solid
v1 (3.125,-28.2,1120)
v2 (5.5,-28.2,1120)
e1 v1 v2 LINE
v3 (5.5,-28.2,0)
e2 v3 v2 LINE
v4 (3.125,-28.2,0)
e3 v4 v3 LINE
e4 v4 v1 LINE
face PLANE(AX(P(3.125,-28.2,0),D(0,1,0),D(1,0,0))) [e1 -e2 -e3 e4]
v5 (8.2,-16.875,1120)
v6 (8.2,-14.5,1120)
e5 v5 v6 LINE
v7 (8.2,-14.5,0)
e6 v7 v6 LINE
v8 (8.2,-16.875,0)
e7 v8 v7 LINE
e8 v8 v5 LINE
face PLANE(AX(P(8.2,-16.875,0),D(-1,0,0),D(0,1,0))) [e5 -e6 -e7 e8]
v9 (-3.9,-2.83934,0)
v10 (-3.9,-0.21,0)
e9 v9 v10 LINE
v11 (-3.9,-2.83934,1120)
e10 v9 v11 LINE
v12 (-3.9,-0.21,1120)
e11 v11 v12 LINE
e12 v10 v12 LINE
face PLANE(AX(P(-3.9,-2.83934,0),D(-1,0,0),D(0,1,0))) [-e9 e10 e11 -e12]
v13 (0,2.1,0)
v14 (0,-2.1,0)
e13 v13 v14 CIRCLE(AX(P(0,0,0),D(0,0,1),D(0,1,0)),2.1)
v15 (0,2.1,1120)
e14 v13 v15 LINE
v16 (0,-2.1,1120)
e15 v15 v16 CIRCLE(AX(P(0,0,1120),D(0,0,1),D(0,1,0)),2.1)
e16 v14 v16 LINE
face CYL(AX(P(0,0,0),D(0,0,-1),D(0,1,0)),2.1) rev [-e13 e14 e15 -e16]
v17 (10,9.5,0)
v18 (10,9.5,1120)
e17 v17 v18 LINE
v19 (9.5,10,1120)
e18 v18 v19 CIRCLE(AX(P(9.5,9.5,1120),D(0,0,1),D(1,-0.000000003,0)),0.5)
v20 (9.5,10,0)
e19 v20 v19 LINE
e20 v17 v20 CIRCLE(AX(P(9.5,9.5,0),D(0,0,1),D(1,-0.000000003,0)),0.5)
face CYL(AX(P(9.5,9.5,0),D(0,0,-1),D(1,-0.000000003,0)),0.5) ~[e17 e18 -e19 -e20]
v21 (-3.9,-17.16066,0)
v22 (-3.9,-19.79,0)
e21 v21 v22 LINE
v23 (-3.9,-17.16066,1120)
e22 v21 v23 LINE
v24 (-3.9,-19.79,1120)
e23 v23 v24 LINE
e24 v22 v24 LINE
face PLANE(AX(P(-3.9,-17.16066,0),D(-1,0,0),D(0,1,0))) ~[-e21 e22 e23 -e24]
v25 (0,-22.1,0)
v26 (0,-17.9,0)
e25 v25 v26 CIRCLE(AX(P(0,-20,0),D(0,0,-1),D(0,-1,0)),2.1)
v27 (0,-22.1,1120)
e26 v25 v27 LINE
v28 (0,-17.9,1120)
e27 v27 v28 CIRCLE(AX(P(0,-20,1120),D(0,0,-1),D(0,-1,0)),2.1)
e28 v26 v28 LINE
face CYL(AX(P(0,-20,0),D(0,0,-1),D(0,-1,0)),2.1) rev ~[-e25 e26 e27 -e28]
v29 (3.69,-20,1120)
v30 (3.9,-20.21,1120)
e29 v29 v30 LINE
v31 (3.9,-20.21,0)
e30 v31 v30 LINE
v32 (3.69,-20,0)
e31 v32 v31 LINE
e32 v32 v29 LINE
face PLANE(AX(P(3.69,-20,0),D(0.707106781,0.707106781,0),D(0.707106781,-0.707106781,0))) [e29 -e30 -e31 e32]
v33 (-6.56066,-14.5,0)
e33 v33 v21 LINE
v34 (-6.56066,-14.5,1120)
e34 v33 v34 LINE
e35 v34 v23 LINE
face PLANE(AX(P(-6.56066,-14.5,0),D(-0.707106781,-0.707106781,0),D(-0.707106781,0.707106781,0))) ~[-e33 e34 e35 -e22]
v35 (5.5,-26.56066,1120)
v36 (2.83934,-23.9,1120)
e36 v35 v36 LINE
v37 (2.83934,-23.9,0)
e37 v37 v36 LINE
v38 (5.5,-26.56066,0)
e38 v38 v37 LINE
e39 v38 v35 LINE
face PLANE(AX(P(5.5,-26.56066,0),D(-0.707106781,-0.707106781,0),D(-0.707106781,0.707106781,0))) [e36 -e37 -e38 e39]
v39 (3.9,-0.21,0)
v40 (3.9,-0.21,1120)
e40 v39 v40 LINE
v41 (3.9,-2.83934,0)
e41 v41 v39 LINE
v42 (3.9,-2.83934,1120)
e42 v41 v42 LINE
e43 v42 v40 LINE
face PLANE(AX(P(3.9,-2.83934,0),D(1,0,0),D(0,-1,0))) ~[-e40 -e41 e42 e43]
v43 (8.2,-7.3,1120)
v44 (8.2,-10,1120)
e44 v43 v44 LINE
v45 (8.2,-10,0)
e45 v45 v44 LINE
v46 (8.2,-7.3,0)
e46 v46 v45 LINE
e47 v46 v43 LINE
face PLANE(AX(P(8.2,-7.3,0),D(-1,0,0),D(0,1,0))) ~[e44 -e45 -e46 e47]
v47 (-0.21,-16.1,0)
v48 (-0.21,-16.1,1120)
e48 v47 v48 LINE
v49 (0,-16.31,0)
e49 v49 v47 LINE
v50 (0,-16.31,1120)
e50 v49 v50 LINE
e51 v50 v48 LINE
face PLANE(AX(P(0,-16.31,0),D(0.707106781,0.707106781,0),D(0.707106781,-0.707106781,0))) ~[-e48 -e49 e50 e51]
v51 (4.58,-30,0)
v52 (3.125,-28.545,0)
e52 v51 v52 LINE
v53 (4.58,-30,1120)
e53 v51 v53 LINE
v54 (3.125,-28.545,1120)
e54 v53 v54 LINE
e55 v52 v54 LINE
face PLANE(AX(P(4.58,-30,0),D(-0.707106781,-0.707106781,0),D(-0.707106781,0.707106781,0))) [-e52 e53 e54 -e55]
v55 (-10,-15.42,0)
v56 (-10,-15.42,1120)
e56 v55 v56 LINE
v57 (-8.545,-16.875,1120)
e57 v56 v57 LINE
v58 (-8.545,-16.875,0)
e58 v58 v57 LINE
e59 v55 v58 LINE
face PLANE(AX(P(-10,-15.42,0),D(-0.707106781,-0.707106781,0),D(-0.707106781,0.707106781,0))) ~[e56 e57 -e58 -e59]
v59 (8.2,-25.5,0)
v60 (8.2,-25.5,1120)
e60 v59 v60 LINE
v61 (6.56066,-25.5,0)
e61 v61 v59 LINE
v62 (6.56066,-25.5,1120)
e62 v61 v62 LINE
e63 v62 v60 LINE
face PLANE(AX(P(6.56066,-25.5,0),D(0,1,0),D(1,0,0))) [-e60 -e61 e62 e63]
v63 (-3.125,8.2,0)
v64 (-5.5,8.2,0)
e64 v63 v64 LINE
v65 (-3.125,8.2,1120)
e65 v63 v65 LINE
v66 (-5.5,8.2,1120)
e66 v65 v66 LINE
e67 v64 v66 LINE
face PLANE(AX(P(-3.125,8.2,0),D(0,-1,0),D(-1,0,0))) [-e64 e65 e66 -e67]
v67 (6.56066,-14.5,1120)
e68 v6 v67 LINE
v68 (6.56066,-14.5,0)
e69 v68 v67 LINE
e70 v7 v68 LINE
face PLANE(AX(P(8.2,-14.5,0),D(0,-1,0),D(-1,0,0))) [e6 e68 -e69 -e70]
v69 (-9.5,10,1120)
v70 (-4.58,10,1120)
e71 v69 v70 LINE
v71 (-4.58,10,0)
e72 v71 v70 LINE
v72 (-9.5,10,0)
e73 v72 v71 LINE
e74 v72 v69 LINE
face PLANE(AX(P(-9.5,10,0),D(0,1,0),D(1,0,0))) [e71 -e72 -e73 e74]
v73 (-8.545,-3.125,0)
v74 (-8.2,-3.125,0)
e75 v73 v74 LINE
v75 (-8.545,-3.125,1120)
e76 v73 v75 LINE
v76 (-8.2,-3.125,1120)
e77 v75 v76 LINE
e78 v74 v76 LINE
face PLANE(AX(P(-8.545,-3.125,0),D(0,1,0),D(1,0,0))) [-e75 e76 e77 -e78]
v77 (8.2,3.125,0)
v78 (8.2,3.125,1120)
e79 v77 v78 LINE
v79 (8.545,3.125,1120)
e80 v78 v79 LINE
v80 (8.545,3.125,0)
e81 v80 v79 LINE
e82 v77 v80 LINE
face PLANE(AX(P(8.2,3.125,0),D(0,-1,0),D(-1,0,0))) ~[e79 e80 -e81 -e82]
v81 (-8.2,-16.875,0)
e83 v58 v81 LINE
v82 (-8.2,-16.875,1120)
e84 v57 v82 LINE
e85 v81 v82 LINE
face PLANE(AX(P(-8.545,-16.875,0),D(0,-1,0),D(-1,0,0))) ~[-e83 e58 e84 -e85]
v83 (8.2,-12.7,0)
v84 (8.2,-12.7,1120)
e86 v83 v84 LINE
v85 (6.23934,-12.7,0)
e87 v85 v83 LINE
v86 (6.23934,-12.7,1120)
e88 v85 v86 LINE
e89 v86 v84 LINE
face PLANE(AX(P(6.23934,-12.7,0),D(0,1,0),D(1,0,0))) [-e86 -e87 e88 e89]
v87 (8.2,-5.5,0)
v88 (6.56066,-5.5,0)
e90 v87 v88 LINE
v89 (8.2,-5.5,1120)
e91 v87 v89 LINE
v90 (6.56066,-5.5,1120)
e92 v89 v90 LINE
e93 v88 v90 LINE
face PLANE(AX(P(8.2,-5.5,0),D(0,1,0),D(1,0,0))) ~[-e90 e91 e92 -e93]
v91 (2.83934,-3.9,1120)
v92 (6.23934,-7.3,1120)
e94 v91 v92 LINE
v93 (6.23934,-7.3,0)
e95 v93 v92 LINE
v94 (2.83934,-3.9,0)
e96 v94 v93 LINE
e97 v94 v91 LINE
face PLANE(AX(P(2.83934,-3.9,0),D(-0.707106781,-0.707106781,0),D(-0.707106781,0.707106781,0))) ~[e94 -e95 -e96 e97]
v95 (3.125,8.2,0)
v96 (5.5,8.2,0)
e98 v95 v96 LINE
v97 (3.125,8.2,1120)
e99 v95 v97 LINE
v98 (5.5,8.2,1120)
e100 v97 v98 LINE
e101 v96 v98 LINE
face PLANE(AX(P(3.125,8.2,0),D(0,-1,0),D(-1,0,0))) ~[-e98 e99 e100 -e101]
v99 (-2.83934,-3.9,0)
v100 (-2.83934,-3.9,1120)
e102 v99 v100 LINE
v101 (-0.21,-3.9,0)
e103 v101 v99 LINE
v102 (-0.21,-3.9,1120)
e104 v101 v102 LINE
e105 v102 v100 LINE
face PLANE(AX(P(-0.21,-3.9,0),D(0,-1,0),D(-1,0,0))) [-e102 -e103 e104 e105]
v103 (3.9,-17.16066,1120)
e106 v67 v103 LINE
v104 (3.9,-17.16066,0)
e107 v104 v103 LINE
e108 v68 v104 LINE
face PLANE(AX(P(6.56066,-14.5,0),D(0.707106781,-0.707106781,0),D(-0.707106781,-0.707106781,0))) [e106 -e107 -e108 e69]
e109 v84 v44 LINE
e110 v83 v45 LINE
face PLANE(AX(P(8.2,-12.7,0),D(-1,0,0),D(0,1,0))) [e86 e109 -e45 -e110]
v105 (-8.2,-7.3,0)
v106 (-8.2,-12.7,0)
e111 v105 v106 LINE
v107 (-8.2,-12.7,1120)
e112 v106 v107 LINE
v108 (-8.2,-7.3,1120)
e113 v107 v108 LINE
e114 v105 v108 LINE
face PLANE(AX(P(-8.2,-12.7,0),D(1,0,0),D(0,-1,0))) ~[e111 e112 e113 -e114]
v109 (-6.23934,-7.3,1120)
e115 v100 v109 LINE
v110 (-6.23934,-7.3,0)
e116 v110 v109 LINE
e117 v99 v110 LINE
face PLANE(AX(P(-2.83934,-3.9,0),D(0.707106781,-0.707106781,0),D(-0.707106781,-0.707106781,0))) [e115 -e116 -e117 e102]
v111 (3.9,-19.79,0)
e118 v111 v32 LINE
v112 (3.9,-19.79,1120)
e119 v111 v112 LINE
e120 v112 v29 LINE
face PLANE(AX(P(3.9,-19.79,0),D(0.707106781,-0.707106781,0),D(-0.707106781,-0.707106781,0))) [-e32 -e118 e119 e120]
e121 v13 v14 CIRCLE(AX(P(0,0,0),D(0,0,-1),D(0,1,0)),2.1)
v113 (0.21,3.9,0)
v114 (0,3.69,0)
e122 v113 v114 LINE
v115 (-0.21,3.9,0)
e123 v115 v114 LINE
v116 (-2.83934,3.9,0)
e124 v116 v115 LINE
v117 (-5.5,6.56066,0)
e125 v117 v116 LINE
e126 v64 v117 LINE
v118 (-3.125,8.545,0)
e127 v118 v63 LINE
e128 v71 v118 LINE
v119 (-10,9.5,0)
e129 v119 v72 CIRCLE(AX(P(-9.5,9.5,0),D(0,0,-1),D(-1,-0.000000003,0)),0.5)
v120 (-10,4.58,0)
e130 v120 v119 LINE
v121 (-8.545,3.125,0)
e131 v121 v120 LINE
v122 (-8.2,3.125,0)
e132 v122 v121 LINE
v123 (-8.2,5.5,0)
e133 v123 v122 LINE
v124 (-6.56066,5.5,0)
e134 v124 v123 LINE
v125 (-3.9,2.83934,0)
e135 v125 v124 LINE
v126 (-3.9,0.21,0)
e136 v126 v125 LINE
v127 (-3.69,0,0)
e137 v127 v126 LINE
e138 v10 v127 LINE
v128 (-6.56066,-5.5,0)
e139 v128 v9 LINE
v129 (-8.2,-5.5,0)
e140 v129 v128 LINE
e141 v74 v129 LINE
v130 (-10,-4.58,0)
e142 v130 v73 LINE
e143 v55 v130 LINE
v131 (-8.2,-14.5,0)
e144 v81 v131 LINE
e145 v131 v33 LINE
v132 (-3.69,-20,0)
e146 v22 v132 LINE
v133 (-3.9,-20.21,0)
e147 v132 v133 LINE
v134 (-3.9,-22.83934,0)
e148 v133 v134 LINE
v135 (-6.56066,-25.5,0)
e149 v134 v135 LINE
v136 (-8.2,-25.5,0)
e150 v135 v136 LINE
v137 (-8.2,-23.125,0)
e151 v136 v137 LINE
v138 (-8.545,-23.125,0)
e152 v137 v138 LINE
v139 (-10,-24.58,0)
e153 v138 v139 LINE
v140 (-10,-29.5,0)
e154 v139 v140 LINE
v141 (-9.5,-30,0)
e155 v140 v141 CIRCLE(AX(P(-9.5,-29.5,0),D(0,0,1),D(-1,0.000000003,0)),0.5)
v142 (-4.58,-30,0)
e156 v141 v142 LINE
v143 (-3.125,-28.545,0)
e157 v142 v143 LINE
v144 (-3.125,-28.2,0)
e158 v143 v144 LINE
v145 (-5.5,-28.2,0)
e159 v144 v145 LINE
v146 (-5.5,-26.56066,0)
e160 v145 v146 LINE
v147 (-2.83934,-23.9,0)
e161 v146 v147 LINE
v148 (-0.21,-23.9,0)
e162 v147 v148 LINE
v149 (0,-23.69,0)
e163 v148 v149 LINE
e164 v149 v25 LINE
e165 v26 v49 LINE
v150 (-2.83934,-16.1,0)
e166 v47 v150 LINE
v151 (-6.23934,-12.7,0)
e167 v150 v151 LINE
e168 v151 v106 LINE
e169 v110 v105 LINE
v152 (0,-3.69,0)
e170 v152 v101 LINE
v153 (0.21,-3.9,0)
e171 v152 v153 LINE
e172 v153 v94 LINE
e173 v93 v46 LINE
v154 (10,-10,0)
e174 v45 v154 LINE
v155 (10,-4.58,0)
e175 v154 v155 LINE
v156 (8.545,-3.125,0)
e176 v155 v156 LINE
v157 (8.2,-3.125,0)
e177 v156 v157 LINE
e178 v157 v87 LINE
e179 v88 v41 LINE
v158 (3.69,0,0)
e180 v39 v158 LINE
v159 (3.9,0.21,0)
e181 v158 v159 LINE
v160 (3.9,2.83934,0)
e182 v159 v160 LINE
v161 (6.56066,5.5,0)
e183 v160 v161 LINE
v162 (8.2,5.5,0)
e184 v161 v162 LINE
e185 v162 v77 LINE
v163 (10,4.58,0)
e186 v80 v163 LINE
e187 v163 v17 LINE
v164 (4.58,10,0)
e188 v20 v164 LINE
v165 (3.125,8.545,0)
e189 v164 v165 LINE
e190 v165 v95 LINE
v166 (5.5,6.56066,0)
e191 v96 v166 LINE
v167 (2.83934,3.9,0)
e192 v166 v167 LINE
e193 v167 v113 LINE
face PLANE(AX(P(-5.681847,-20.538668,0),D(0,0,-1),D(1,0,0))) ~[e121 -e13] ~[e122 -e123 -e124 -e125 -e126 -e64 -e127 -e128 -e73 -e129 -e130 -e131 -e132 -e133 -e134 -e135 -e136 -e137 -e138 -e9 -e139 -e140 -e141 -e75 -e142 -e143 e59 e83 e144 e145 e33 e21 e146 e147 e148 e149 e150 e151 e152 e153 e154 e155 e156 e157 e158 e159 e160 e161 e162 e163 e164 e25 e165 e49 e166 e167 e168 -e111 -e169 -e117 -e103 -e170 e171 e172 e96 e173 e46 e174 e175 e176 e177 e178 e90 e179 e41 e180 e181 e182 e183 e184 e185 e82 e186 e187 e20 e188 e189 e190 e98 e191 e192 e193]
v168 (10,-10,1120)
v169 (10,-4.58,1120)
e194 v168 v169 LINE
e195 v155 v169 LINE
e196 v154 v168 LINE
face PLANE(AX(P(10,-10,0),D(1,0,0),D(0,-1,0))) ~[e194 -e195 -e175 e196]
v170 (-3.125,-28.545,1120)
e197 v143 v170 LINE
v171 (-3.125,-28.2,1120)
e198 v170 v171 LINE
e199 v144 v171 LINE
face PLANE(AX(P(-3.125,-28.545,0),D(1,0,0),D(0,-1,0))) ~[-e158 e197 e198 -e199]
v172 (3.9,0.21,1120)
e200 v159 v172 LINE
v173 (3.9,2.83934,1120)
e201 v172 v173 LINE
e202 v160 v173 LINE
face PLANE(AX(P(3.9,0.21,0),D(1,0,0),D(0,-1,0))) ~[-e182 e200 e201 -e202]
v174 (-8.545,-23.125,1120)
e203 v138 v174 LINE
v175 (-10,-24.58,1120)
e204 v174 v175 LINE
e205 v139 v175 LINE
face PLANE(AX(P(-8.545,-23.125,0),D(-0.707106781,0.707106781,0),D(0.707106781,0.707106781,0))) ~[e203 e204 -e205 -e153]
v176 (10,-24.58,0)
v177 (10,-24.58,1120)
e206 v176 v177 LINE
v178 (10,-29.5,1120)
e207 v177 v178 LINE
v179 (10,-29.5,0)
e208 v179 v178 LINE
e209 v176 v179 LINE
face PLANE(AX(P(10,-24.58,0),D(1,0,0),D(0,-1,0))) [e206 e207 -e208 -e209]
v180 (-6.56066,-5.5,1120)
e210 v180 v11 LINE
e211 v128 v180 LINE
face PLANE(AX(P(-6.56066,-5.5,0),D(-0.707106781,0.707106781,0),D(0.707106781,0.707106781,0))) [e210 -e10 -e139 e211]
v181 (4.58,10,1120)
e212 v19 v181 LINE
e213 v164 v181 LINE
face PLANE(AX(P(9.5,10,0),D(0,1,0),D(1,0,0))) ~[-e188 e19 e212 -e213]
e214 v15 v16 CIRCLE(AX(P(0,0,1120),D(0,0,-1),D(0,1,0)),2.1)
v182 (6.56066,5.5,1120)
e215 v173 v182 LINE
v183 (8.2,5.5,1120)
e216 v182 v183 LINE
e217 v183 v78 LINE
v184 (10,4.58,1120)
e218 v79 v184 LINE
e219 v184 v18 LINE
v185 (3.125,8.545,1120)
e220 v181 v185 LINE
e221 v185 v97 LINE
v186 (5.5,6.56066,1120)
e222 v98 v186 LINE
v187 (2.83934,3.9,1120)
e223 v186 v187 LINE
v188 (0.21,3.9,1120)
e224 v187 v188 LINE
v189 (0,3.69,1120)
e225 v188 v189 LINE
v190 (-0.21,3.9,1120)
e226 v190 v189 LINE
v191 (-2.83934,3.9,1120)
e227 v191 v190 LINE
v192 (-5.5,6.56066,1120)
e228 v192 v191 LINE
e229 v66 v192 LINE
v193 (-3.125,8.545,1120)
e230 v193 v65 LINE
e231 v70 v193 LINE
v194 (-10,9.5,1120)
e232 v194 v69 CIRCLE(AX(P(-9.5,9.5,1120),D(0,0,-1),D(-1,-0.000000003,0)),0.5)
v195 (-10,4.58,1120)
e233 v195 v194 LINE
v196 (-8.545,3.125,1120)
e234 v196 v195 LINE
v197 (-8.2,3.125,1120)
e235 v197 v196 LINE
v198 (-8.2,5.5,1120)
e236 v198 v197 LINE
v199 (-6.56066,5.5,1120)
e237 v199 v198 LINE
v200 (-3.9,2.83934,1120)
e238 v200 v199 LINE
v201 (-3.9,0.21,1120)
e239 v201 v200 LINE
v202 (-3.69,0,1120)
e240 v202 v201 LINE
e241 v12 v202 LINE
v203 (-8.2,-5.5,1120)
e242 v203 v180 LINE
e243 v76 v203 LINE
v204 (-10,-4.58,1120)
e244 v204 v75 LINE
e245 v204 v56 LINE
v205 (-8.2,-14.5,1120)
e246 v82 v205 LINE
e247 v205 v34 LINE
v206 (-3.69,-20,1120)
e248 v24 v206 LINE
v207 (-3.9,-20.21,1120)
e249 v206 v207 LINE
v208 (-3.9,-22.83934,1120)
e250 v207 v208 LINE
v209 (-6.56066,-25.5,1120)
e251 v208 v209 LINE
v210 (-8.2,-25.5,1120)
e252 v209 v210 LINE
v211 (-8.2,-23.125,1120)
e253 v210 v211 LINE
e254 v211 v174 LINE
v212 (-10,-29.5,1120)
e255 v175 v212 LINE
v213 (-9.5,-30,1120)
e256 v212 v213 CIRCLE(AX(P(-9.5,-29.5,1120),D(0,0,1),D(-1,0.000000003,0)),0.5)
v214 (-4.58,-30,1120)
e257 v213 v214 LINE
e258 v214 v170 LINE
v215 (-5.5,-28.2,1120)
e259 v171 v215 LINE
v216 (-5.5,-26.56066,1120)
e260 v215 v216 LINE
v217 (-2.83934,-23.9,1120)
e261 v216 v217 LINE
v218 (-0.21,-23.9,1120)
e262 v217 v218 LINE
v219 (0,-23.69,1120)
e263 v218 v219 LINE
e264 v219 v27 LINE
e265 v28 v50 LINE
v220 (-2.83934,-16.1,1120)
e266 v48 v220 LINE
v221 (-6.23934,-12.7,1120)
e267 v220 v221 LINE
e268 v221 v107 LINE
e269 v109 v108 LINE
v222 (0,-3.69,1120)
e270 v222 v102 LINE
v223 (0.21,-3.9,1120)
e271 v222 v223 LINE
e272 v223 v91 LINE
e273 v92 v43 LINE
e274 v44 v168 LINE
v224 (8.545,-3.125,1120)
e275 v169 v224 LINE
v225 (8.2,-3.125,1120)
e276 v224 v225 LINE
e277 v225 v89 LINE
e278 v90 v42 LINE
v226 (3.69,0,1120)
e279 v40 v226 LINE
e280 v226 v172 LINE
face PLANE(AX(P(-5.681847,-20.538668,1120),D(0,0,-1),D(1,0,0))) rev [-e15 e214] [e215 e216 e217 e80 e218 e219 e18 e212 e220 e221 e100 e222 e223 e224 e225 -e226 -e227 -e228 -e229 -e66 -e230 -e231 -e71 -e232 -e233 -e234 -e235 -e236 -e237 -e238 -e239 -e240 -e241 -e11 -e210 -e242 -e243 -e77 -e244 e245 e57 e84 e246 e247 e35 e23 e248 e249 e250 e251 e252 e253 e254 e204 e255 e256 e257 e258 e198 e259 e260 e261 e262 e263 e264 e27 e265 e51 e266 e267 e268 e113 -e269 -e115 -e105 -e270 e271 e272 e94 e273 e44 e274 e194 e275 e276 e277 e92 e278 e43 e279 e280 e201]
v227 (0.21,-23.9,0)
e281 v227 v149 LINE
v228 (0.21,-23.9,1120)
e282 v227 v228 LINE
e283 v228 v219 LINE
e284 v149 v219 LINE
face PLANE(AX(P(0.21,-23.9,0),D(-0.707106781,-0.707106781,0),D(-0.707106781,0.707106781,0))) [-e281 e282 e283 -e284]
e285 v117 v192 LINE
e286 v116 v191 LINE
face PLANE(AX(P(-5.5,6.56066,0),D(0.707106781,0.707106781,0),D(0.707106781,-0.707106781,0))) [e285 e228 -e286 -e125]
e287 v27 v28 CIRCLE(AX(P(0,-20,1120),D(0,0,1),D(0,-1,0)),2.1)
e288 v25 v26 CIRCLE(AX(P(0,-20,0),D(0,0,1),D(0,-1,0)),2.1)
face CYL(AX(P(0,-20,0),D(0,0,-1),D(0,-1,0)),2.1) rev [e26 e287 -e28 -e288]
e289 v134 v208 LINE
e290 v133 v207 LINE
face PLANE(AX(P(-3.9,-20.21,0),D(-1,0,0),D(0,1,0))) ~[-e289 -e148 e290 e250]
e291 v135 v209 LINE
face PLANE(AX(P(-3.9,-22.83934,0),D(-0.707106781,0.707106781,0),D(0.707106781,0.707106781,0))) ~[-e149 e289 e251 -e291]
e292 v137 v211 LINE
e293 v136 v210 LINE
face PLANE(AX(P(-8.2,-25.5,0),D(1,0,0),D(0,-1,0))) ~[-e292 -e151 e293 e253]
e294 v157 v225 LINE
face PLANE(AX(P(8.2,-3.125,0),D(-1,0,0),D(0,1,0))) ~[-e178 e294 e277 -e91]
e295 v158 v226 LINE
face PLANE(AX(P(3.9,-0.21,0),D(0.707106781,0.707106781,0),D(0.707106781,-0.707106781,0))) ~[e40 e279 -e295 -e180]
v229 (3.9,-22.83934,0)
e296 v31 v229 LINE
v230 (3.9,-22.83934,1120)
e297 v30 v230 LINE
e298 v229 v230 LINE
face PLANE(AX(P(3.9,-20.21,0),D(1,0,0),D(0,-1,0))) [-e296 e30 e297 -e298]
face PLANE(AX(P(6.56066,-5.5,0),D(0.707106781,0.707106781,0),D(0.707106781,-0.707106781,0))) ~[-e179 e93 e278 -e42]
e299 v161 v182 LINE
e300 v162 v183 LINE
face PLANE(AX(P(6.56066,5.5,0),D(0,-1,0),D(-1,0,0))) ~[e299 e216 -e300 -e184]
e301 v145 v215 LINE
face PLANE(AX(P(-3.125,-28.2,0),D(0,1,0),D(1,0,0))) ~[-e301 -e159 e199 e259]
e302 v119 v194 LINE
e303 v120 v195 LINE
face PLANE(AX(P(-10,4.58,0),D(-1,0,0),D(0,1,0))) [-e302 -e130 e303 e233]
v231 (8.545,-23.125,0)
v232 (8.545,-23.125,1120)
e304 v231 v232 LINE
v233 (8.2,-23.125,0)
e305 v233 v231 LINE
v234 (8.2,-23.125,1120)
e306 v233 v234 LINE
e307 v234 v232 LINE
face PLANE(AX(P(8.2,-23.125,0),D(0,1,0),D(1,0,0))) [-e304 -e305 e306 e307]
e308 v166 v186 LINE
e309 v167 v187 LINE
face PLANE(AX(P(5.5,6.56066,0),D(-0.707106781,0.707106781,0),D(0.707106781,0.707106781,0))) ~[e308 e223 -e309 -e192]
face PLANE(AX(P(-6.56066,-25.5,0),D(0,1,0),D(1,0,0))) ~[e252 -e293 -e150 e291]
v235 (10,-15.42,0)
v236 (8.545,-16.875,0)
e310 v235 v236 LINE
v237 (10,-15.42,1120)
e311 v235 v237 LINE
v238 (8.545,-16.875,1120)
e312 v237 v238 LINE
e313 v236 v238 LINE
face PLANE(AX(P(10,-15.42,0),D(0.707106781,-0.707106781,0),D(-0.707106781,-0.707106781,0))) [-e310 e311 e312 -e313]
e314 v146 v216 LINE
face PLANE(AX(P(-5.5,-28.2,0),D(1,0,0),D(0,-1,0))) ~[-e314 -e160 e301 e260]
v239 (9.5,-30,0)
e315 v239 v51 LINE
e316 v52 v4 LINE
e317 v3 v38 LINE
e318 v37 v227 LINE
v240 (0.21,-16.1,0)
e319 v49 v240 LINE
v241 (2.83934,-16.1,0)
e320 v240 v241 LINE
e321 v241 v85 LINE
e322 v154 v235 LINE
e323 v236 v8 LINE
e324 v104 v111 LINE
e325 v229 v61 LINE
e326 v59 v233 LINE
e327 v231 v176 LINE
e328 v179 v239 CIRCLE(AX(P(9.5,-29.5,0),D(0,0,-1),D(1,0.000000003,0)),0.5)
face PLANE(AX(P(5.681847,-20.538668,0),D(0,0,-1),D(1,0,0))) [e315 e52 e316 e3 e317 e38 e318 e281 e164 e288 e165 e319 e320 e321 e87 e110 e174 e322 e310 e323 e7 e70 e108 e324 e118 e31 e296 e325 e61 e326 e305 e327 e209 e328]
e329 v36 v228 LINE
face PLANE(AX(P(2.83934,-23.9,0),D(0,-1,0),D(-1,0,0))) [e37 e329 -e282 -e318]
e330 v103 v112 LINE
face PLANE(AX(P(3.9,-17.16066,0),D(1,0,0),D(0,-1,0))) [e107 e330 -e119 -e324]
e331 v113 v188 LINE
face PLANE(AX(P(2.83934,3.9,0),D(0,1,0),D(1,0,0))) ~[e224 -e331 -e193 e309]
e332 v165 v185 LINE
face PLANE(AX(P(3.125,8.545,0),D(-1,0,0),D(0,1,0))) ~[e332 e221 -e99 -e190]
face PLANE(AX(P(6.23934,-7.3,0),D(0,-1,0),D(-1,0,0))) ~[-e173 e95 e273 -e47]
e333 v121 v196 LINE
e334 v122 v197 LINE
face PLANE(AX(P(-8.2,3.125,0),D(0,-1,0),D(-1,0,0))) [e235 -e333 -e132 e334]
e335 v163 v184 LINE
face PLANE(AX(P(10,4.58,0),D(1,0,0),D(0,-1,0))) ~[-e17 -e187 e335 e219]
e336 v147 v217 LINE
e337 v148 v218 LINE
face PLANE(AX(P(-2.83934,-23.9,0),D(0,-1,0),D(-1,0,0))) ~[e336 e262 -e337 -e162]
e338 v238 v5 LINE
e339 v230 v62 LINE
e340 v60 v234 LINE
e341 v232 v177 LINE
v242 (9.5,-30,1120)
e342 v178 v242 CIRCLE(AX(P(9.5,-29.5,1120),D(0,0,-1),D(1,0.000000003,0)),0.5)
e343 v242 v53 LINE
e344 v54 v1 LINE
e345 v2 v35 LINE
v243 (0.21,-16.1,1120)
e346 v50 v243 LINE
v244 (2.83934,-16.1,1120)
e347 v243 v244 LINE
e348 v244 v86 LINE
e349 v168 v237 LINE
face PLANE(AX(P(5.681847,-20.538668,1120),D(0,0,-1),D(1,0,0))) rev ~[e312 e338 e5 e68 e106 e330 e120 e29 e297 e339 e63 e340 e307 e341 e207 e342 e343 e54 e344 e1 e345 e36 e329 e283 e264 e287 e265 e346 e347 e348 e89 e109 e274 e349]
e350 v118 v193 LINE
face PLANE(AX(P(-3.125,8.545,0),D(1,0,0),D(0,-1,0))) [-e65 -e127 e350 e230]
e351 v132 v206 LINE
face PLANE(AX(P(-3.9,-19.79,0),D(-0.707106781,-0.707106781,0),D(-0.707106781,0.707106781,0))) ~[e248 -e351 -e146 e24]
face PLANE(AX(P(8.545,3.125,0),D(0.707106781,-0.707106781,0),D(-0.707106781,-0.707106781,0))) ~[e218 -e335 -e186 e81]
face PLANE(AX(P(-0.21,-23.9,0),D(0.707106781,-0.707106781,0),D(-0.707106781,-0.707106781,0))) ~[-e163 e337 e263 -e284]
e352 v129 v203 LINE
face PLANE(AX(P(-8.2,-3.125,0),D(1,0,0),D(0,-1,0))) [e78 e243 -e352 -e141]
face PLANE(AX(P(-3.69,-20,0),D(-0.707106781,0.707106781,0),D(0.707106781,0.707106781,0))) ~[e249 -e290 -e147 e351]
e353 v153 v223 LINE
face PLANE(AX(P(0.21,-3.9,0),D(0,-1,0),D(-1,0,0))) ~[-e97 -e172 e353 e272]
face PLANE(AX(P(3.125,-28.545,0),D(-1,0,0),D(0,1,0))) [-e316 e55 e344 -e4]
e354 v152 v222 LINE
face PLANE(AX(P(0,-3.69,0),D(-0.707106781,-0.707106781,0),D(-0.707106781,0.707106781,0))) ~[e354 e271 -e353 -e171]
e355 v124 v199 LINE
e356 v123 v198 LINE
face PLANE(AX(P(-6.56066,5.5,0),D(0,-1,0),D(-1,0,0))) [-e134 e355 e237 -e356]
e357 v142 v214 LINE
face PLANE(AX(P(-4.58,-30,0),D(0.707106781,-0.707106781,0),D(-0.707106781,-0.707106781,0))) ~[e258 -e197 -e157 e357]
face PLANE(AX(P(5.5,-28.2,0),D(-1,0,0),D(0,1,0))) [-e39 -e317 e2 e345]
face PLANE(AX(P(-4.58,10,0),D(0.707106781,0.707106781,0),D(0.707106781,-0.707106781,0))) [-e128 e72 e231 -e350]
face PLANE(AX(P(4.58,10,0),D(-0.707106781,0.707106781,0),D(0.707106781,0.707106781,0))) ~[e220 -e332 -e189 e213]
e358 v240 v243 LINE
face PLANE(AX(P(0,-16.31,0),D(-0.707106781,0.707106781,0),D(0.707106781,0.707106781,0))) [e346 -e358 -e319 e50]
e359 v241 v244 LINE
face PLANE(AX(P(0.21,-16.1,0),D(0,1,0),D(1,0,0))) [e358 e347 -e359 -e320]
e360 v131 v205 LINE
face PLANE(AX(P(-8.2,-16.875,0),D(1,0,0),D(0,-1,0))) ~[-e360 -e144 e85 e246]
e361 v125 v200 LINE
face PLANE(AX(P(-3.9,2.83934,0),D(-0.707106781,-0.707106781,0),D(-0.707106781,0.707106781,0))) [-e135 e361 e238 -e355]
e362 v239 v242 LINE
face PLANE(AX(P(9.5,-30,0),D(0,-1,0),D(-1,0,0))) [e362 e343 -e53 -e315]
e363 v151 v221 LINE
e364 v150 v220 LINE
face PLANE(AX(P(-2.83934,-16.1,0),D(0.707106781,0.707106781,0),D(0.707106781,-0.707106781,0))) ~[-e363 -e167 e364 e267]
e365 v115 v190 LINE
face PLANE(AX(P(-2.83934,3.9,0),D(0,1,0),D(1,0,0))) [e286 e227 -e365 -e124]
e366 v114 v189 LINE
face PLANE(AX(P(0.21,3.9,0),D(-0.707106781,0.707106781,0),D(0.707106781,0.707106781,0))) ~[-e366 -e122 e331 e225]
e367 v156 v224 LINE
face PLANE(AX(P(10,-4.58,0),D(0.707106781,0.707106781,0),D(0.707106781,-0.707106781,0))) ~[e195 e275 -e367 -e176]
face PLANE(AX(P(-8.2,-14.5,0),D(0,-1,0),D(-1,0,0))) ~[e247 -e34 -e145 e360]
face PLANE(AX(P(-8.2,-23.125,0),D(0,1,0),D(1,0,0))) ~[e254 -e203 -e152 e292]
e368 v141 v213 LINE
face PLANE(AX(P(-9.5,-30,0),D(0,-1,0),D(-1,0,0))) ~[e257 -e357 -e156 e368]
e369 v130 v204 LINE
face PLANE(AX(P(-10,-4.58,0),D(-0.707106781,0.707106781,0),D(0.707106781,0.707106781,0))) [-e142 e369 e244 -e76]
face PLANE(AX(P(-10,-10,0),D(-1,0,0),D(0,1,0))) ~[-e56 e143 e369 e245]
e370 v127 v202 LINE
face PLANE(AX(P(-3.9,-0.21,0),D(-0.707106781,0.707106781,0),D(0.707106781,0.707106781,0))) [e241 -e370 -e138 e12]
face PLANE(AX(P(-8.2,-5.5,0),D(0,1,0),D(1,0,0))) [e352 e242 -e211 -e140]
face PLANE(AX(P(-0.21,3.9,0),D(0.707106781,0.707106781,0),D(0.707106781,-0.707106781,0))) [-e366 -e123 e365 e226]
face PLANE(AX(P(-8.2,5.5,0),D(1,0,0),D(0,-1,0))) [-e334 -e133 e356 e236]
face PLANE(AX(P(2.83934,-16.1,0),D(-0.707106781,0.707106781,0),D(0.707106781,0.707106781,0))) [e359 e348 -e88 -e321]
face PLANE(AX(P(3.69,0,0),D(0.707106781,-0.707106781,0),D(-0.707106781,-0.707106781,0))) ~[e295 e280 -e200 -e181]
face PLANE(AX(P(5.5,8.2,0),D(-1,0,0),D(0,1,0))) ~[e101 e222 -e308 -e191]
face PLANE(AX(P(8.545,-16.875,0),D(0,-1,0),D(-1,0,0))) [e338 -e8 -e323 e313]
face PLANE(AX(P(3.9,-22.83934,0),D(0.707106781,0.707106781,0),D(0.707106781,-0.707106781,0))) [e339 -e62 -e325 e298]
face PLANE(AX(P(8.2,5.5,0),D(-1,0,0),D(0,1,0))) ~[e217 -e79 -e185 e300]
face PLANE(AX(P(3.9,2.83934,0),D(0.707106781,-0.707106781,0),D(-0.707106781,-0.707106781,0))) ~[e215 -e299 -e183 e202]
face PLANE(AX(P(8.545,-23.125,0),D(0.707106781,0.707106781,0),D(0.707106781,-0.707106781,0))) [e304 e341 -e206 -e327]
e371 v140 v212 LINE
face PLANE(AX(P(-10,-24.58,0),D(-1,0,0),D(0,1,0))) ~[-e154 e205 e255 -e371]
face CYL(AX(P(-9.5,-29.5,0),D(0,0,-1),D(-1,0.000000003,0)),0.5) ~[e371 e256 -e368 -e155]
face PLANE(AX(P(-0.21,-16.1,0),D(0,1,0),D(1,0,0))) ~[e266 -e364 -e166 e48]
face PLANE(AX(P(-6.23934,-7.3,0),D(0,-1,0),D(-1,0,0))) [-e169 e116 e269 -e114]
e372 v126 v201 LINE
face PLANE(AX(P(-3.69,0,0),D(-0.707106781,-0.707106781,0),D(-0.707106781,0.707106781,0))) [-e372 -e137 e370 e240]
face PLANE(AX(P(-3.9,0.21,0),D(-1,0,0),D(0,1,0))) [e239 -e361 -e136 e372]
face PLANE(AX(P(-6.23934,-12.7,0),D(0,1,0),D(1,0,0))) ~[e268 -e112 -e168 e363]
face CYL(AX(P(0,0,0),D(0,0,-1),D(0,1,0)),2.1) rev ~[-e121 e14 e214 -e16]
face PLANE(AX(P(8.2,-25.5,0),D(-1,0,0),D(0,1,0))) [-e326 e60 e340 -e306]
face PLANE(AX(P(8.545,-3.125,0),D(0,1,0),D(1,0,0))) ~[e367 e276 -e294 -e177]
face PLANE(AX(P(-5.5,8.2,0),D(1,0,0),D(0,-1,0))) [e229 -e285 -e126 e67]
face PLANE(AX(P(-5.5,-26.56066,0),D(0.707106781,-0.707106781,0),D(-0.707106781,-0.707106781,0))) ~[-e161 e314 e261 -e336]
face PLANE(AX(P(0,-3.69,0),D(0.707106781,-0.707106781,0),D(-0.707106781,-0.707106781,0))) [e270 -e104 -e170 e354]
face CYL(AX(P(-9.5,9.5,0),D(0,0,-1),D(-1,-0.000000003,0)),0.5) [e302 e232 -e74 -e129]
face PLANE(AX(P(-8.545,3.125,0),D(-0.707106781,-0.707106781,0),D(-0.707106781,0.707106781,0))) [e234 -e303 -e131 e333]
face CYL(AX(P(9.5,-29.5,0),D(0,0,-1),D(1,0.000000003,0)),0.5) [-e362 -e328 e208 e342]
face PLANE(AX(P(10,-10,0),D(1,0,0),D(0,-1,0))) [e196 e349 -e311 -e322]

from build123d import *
from build123d.topology import SkipClean

# Parameters (mm, degrees)
BOSS_EXTRU_1_DEPTH     = 1120
SYM_TRIE6_COPY_1_DEPTH = 1120


with BuildPart() as part:
    # Esquisse1 → Boss.-Extru.1 (new body)
    with BuildSketch(Plane.XY):
        with BuildLine():
            Line((-9.5, 10), (-4.58, 10))
            Line((-4.58, 10), (-3.125, 8.545))
            Line((-3.125, 8.545), (-3.125, 8.2))
            Line((-3.125, 8.2), (-5.5, 8.2))
            Line((-5.5, 8.2), (-5.5, 6.560660172))
            Line((-5.5, 6.560660172), (-2.839339828, 3.9))
            Line((-2.839339828, 3.9), (-0.21, 3.9))
            Line((-0.21, 3.9), (0, 3.69))
            Line((0, 3.69), (0, 2.1))
            ThreePointArc((0, 2.1), (-2.1, 0), (0, -2.1))
            Line((0, -2.1), (0, -3.69))
            Line((0, -3.69), (-0.21, -3.9))
            Line((-0.21, -3.9), (-2.839339828, -3.9))
            Line((-2.839339828, -3.9), (-6.239339828, -7.3))
            Line((-6.239339828, -7.3), (-8.2, -7.3))
            Line((-8.2, -7.3), (-8.2, -10))
            Line((-8.2, -10), (-10, -10))
            Line((-10, -10), (-10, -4.58))
            Line((-10, -4.58), (-8.545, -3.125))
            Line((-8.545, -3.125), (-8.2, -3.125))
            Line((-8.2, -3.125), (-8.2, -5.5))
            Line((-8.2, -5.5), (-6.560660172, -5.5))
            Line((-6.560660172, -5.5), (-3.9, -2.839339828))
            Line((-3.9, -2.839339828), (-3.9, -0.21))
            Line((-3.9, -0.21), (-3.69, 0))
            Line((-3.69, 0), (-3.9, 0.21))
            Line((-3.9, 0.21), (-3.9, 2.839339828))
            Line((-3.9, 2.839339828), (-6.560660172, 5.5))
            Line((-6.560660172, 5.5), (-8.2, 5.5))
            Line((-8.2, 5.5), (-8.2, 3.125))
            Line((-8.2, 3.125), (-8.545, 3.125))
            Line((-8.545, 3.125), (-10, 4.58))
            Line((-10, 4.58), (-10, 9.5))
            ThreePointArc((-10, 9.5), (-9.853553391, 9.853553391), (-9.5, 10))
        make_face()
    boss_extru_1 = extrude(amount=BOSS_EXTRU_1_DEPTH)

    # Symétrie1: Boss.-Extru.1 across plane
    add(boss_extru_1.mirror(Plane(origin=(0, 3.69, 1120), x_dir=(0, 0, 1), z_dir=(-1, 0, 0))))

    # Symétrie6: Boss.-Extru.1 across plane
    add(boss_extru_1.mirror(Plane(origin=(-8.2, -10, 1120), x_dir=(0, 0, 1), z_dir=(0, 1, 0))))

    # Symétrie6 copy 1 sketch → Symétrie6 copy 1 (add)
    with SkipClean():  # the faces are left unmerged after this step: merging them gives an invalid solid
        with BuildSketch(Plane(origin=(0, -20, 0), x_dir=(-1, 0, 0), z_dir=(0, 0, 1))):
            with BuildLine():
                Line((-9.5, 10), (-4.58, 10))
                Line((-4.58, 10), (-3.125, 8.545))
                Line((-3.125, 8.545), (-3.125, 8.2))
                Line((-3.125, 8.2), (-5.5, 8.2))
                Line((-5.5, 8.2), (-5.5, 6.560660172))
                Line((-5.5, 6.560660172), (-2.839339828, 3.9))
                Line((-2.839339828, 3.9), (-0.21, 3.9))
                Line((-0.21, 3.9), (0, 3.69))
                Line((0, 3.69), (0, 2.1))
                ThreePointArc((0, 2.1), (-2.1, 0), (0, -2.1))
                Line((0, -2.1), (0, -3.69))
                Line((0, -3.69), (-0.21, -3.9))
                Line((-0.21, -3.9), (-2.839339828, -3.9))
                Line((-2.839339828, -3.9), (-6.239339828, -7.3))
                Line((-6.239339828, -7.3), (-8.2, -7.3))
                Line((-8.2, -7.3), (-8.2, -10))
                Line((-8.2, -10), (-10, -10))
                Line((-10, -10), (-10, -4.58))
                Line((-10, -4.58), (-8.545, -3.125))
                Line((-8.545, -3.125), (-8.2, -3.125))
                Line((-8.2, -3.125), (-8.2, -5.5))
                Line((-8.2, -5.5), (-6.560660172, -5.5))
                Line((-6.560660172, -5.5), (-3.9, -2.839339828))
                Line((-3.9, -2.839339828), (-3.9, -0.21))
                Line((-3.9, -0.21), (-3.69, 0))
                Line((-3.69, 0), (-3.9, 0.21))
                Line((-3.9, 0.21), (-3.9, 2.839339828))
                Line((-3.9, 2.839339828), (-6.560660172, 5.5))
                Line((-6.560660172, 5.5), (-8.2, 5.5))
                Line((-8.2, 5.5), (-8.2, 3.125))
                Line((-8.2, 3.125), (-8.545, 3.125))
                Line((-8.545, 3.125), (-10, 4.58))
                Line((-10, 4.58), (-10, 9.5))
                ThreePointArc((-10, 9.5), (-9.853553391, 9.853553391), (-9.5, 10))
            make_face()
        extrude(amount=SYM_TRIE6_COPY_1_DEPTH)


solid = part.part
